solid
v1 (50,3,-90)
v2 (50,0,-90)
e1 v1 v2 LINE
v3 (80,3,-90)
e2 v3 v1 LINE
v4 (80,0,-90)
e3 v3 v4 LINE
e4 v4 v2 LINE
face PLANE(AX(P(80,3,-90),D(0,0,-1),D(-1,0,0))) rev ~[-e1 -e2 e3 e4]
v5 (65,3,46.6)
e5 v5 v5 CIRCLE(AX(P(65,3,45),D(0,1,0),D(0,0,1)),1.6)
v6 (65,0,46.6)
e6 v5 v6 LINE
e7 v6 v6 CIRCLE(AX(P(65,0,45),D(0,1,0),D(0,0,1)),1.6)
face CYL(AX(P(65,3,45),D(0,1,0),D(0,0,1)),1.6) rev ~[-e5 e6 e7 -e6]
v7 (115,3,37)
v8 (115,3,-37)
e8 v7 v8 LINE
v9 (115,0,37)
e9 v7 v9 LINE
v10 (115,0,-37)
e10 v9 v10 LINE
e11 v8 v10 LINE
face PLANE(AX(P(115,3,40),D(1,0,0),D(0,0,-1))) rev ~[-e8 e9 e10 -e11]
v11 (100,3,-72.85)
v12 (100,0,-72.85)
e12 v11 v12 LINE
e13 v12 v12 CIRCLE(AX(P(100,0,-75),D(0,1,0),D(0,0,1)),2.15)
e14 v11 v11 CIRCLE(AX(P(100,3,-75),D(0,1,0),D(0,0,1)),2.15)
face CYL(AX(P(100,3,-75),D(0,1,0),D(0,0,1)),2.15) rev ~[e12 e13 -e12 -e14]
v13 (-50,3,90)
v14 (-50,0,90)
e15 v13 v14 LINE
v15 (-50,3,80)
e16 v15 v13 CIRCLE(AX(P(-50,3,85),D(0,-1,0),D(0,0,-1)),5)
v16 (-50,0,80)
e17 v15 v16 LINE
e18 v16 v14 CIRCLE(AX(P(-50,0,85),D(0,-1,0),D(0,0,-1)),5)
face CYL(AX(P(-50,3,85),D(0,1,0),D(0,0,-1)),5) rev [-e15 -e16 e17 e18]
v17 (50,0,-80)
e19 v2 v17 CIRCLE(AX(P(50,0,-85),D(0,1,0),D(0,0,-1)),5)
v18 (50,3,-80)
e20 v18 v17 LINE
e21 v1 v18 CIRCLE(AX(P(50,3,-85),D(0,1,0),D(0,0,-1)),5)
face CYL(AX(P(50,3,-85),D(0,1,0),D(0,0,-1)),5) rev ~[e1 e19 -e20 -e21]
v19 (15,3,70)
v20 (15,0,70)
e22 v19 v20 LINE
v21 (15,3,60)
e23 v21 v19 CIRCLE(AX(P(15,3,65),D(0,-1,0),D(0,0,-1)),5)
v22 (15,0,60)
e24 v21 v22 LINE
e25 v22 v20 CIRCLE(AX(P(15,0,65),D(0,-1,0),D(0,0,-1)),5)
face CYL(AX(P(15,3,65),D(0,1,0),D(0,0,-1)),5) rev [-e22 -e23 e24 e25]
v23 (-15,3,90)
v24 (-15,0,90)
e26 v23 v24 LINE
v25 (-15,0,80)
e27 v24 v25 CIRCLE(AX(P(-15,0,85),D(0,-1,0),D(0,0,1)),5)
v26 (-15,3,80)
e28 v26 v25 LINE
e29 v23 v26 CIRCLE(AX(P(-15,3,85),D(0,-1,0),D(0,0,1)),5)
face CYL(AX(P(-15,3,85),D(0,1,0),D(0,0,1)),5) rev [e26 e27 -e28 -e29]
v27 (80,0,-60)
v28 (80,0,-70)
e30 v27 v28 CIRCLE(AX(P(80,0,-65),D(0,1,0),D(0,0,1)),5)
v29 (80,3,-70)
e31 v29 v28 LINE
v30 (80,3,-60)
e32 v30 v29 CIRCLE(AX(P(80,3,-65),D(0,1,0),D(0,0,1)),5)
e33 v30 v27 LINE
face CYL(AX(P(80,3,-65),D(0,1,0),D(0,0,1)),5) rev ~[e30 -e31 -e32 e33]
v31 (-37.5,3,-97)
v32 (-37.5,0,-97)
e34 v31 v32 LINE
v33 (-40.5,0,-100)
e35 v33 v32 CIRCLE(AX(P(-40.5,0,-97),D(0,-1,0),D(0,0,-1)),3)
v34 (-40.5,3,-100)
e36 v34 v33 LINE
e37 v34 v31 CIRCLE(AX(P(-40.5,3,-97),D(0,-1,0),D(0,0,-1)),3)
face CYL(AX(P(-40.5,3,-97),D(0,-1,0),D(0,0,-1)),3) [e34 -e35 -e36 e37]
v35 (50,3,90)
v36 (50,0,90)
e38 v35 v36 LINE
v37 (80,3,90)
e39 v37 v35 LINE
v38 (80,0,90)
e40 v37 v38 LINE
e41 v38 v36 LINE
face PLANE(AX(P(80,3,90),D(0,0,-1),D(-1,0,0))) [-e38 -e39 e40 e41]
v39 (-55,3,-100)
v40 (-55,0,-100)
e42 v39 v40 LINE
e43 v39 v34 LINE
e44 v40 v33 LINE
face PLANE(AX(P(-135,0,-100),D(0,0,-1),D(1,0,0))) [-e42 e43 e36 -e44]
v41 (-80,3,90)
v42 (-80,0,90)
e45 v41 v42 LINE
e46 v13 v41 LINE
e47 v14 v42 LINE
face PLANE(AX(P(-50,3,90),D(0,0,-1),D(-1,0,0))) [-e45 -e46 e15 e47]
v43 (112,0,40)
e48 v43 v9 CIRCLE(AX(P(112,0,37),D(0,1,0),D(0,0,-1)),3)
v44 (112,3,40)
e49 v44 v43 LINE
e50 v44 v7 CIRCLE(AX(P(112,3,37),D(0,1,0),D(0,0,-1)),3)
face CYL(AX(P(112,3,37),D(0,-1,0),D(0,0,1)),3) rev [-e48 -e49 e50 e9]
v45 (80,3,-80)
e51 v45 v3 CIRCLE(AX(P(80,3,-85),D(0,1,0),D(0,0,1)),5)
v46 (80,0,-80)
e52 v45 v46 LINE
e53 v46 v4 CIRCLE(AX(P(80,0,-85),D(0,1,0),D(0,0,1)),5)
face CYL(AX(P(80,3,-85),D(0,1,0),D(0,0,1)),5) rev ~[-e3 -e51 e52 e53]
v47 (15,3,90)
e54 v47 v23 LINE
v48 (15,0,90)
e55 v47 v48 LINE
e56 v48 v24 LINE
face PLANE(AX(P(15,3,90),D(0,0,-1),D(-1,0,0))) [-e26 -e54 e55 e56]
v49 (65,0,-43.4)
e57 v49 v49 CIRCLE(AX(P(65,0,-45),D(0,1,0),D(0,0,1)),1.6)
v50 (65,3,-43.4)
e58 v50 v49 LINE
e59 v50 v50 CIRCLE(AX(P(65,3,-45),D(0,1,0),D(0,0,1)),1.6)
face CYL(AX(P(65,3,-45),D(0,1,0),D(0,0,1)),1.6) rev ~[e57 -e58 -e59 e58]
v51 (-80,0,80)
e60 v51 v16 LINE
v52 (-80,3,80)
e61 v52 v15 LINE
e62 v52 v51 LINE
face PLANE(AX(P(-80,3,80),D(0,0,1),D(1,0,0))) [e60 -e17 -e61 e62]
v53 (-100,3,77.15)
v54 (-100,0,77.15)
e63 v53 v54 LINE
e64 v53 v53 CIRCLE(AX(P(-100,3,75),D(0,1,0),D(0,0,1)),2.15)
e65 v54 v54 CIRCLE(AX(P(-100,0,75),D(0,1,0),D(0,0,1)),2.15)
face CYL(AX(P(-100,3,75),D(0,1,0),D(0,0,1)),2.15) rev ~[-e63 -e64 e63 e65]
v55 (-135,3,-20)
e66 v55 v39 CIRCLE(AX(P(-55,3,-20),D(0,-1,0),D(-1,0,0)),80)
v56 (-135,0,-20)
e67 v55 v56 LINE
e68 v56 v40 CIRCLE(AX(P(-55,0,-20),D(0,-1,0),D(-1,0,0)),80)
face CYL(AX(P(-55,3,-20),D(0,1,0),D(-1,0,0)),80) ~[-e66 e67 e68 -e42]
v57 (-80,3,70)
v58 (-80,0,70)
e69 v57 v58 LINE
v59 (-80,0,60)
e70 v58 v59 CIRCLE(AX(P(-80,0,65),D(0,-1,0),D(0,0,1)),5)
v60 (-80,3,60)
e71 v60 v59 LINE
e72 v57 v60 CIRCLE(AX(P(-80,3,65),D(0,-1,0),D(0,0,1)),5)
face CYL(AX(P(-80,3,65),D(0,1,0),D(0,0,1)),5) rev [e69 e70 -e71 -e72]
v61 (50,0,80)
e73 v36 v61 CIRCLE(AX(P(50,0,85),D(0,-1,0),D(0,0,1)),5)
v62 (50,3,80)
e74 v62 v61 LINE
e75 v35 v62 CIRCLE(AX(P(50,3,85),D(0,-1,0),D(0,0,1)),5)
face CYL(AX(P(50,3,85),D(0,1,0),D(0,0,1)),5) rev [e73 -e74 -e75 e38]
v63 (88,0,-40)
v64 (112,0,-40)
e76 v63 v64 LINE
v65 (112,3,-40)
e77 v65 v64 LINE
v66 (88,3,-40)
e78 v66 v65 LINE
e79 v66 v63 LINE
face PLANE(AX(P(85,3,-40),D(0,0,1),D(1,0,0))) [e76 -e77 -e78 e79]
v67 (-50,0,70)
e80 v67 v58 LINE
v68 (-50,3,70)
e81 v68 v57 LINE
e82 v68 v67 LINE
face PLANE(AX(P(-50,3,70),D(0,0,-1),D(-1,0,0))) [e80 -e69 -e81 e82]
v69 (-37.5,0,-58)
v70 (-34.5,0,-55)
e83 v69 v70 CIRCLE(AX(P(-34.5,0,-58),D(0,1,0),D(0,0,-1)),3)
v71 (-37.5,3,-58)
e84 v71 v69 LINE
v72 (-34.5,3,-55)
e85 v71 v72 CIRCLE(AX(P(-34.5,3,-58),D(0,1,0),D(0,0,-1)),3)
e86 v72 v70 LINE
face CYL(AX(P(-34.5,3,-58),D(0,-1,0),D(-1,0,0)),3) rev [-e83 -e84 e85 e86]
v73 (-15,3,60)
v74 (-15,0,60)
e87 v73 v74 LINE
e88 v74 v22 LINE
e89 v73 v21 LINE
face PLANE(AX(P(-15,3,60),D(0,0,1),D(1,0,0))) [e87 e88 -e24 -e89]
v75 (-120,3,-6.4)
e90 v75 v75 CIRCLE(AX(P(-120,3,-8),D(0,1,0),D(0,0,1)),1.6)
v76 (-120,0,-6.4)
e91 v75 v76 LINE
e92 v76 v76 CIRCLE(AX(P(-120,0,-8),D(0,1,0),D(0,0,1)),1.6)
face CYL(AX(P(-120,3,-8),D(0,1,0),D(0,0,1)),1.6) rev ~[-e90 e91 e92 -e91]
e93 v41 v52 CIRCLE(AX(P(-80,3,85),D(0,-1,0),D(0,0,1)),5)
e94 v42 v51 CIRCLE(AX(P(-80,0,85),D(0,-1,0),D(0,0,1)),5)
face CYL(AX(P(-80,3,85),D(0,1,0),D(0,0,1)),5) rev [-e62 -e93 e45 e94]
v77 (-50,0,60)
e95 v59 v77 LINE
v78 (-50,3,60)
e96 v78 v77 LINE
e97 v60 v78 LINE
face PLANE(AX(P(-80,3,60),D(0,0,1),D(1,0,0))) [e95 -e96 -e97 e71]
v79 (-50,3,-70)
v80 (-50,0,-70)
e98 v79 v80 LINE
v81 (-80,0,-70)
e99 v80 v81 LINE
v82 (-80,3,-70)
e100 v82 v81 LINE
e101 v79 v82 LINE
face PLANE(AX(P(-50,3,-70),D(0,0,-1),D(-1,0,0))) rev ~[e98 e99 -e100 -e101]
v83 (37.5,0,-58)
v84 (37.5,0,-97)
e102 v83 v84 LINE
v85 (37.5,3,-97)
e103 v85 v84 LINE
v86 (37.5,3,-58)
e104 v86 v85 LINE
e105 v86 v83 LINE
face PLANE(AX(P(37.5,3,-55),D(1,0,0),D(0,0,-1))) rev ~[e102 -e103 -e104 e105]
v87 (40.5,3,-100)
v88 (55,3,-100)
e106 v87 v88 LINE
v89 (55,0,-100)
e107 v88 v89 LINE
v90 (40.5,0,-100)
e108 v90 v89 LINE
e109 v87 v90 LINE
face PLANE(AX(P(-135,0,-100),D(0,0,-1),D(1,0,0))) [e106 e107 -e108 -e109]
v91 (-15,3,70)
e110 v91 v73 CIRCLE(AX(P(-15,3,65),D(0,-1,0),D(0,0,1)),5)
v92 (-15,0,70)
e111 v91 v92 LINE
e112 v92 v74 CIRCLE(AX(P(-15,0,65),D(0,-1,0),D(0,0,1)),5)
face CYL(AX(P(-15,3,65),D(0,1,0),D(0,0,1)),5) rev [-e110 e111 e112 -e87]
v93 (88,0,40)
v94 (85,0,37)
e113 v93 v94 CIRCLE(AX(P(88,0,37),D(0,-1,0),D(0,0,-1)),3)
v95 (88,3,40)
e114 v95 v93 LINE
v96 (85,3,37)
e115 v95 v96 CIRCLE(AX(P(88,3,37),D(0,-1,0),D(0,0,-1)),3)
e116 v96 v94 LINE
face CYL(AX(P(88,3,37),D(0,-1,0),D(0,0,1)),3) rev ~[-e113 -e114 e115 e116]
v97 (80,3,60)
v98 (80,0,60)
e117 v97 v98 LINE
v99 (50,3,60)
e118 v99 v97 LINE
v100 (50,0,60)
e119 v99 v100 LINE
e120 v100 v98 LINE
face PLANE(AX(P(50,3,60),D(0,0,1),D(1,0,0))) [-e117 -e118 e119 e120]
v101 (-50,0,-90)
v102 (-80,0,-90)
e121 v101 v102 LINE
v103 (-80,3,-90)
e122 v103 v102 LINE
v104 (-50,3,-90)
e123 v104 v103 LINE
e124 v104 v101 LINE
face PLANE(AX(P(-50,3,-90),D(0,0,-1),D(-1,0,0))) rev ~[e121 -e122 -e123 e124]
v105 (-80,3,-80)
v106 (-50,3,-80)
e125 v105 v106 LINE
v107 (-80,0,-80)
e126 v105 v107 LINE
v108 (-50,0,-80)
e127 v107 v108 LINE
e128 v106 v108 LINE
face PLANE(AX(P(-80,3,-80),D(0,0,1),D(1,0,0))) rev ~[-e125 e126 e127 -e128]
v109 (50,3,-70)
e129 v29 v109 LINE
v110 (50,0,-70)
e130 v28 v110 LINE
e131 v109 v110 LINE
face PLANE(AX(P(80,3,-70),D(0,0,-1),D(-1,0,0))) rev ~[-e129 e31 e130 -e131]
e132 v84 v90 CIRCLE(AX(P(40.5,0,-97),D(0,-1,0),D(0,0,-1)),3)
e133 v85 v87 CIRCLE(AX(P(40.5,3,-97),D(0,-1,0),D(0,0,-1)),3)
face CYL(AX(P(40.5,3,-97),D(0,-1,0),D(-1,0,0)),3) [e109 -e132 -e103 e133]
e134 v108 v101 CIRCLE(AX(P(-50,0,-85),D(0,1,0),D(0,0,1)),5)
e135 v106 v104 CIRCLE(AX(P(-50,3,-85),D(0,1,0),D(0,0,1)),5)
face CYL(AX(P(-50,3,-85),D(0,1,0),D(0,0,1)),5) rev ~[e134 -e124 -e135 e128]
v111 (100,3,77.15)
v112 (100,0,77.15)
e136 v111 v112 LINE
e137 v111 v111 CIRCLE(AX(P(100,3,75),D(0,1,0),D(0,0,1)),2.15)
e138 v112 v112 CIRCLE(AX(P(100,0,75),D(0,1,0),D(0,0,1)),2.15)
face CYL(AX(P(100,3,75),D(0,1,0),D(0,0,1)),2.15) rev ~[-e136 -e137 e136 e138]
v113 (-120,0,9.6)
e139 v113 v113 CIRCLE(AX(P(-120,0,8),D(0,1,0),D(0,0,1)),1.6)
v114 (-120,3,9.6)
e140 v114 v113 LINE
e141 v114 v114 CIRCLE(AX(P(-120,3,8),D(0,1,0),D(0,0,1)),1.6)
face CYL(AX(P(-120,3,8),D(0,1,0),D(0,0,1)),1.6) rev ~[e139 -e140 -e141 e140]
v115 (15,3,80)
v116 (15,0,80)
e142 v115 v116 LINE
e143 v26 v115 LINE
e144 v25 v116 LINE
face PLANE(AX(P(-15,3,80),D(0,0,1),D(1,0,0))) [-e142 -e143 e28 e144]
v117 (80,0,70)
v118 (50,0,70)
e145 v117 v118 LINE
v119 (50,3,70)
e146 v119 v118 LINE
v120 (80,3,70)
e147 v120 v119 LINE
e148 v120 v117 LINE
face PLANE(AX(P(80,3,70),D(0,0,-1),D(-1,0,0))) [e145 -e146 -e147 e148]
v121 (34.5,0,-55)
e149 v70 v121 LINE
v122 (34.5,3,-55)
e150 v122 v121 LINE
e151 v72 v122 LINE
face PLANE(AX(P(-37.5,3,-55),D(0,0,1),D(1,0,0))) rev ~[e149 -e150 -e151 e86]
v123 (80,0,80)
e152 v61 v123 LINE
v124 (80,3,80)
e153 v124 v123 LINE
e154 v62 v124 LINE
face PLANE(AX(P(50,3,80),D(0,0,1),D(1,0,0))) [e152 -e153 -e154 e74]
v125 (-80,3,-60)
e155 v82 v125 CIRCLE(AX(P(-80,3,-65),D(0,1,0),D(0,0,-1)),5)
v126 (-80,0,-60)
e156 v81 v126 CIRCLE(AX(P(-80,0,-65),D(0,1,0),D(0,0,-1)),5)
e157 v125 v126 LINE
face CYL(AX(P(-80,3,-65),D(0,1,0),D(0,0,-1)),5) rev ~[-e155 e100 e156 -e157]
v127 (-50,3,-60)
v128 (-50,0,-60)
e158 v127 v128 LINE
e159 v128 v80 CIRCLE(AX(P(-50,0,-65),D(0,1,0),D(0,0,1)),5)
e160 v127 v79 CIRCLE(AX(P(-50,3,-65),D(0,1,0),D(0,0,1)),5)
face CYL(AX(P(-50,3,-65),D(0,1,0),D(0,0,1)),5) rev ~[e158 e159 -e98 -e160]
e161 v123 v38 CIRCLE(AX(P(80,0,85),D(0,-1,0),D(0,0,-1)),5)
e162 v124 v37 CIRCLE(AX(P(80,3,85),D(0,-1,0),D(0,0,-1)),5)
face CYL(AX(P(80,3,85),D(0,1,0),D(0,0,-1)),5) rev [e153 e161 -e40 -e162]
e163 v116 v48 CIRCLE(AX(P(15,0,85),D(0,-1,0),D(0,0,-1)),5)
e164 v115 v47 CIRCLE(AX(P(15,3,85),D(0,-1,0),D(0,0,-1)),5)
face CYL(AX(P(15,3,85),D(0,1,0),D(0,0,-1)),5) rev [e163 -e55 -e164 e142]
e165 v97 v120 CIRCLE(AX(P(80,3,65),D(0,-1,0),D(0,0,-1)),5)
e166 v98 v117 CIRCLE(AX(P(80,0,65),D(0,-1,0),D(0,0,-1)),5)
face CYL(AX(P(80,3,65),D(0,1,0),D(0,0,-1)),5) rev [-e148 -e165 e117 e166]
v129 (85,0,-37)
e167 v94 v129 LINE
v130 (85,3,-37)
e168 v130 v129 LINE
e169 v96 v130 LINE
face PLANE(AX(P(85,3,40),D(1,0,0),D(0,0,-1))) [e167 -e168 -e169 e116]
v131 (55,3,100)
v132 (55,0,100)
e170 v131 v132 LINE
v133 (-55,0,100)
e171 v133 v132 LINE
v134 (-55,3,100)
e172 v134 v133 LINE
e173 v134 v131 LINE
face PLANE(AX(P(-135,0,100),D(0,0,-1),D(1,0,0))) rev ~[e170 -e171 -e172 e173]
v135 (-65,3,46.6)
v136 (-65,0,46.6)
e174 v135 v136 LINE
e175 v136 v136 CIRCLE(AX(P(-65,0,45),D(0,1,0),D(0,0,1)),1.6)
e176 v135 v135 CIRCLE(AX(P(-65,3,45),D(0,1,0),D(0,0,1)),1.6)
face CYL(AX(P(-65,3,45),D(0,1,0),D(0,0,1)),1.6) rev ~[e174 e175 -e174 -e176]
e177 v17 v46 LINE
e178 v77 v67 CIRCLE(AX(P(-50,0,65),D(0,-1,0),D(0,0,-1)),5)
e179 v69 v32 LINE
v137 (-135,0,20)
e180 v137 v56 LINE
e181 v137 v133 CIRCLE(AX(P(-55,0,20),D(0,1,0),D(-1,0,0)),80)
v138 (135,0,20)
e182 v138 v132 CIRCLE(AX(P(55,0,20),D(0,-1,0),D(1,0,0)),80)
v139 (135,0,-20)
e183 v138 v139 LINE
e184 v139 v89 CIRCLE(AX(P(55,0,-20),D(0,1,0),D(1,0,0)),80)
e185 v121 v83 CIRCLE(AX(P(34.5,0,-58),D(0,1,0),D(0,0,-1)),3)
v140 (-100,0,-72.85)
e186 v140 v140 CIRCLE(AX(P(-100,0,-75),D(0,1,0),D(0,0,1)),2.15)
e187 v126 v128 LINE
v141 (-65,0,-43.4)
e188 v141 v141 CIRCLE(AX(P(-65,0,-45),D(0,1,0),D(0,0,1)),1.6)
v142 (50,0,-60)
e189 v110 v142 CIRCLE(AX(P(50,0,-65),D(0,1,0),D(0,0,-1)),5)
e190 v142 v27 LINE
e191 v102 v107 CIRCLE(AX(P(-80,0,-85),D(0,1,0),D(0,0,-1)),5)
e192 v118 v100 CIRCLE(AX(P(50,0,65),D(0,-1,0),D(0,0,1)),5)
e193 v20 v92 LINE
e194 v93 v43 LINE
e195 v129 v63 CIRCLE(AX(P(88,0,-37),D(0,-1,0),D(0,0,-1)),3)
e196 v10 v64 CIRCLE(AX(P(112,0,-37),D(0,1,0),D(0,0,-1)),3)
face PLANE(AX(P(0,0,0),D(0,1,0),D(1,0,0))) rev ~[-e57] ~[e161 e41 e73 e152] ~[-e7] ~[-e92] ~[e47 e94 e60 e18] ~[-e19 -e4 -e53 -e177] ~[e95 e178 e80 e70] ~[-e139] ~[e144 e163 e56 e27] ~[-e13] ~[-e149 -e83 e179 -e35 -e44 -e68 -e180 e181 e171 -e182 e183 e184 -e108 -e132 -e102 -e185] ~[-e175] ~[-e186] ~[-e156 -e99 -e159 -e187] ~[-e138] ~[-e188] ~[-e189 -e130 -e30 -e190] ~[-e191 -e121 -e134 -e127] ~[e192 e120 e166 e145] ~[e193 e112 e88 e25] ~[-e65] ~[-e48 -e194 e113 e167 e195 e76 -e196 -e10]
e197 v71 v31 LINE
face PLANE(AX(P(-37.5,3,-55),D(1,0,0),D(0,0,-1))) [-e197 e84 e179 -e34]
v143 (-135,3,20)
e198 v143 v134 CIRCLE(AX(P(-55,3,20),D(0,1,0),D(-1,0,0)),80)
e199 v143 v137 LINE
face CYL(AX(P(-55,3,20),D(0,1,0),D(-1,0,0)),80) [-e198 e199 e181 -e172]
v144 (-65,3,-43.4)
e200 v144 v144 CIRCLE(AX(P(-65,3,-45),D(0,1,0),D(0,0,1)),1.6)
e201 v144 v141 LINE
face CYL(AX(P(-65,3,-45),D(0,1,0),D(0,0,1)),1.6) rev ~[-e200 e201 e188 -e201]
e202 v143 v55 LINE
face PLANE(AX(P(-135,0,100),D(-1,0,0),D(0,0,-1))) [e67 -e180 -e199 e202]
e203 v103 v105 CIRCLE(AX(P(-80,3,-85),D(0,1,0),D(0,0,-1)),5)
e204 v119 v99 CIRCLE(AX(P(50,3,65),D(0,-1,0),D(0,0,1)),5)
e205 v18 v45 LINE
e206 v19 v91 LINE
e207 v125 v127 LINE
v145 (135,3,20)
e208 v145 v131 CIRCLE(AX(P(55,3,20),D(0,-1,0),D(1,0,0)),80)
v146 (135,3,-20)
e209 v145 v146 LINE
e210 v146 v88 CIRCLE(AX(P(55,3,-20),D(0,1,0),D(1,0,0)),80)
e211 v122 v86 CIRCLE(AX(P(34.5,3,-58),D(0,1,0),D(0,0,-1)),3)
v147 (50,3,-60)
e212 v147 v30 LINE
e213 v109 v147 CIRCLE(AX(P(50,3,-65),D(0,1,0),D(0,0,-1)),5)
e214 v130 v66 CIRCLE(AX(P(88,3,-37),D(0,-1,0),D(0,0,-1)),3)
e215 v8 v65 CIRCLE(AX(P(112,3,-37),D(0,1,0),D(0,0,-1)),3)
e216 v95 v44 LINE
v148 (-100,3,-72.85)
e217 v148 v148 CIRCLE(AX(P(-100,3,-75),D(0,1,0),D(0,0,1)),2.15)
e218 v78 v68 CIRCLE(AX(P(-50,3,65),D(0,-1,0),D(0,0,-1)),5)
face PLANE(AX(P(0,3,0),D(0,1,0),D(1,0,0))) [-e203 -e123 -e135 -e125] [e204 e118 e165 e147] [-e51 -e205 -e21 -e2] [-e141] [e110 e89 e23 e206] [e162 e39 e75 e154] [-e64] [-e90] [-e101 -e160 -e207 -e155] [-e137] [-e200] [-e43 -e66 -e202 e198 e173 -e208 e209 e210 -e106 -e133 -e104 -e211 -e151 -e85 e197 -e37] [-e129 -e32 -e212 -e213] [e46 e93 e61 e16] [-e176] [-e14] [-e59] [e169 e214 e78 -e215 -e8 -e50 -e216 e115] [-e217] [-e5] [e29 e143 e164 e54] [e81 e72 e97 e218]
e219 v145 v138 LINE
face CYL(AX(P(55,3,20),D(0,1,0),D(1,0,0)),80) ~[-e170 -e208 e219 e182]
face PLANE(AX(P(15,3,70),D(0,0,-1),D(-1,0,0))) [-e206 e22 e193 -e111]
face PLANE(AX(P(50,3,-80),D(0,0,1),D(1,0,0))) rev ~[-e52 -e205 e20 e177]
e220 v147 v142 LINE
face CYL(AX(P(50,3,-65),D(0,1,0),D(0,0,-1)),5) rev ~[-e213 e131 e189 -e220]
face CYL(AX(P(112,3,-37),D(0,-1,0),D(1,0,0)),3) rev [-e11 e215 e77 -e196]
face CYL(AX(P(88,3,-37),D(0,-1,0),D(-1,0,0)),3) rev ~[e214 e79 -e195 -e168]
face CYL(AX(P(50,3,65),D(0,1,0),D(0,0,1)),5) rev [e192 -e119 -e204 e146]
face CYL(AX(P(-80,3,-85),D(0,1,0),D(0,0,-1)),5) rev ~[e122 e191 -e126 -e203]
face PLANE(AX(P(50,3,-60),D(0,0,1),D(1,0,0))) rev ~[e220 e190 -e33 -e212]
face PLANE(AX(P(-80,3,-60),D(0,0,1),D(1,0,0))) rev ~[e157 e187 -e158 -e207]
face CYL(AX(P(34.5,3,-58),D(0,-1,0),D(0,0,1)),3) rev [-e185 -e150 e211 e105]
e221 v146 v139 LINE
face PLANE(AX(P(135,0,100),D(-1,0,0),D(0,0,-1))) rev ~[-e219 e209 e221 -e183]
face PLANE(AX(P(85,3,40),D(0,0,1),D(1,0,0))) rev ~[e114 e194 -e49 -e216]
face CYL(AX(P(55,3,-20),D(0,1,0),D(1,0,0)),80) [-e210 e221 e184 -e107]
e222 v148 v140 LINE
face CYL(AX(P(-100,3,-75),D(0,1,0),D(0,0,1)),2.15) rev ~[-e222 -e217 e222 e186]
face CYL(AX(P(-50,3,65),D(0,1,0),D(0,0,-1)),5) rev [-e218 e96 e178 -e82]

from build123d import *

# Parameters (mm, degrees)
SKETCH_1_W          = 270
SKETCH_1_H          = 200
EXTRUDE_1_DEPTH     = 3
SKETCH_2_R          = 2.15
CUT_EXTRUDE_1_DEPTH = 3
SKETCH_3_R          = 1.6
CUT_EXTRUDE_2_DEPTH = 3
SKETCH_4_W          = 75
SKETCH_4_H          = 45
CUT_EXTRUDE_3_DEPTH = 3
SKETCH_5_R          = 1.6
CUT_EXTRUDE_4_DEPTH = 3
SKETCH_6_W          = 30
SKETCH_6_H          = 80
CUT_EXTRUDE_5_DEPTH = 3
CUT_EXTRUDE_6_DEPTH = 3
FILLET_1_R          = 3


with BuildPart() as part:
    # 草图1 → 凸台-拉伸1 (new body)
    with BuildSketch(Plane(origin=(0, 0, 0), x_dir=(1, 0, 0), z_dir=(0, 1, 0))):
        Rectangle(SKETCH_1_W, SKETCH_1_H)
    extrude(amount=EXTRUDE_1_DEPTH)

    # 草图2 → 切除-拉伸1 (cut)
    with BuildSketch(Plane(origin=(0, 3, 0), x_dir=(1, 0, 0), z_dir=(0, 1, 0))):
        with Locations(Location((-100, 75, 0), (0, 0, 270))):
            Circle(SKETCH_2_R)
        with Locations(Location((100, 75, 0), (0, 0, 270))):
            Circle(SKETCH_2_R)
        with Locations(Location((100, -75, 0), (0, 0, 270))):
            Circle(SKETCH_2_R)
        with Locations(Location((-100, -75, 0), (0, 0, 270))):
            Circle(SKETCH_2_R)
    extrude(amount=-CUT_EXTRUDE_1_DEPTH, mode=Mode.SUBTRACT)

    # 草图3 → 切除-拉伸2 (cut)
    with BuildSketch(Plane(origin=(0, 3, 0), x_dir=(1, 0, 0), z_dir=(0, 1, 0))):
        with Locations(Location((-120, 8, 0), (0, 0, 270))):
            Circle(SKETCH_3_R)
        with Locations(Location((-120, -8, 0), (0, 0, 270))):
            Circle(SKETCH_3_R)
    extrude(amount=-CUT_EXTRUDE_2_DEPTH, mode=Mode.SUBTRACT)

    # 草图4 → 切除-拉伸3 (cut)
    with BuildSketch(Plane(origin=(0, 3, 0), x_dir=(1, 0, 0), z_dir=(0, 1, 0))):
        with BuildLine():
            Line((-80, -80), (-50, -80))
            ThreePointArc((-50, -80), (-45, -85), (-50, -90))
            Line((-50, -90), (-80, -90))
            ThreePointArc((-80, -90), (-85, -85), (-80, -80))
        make_face()
        with BuildLine():
            Line((-15, -80), (15, -80))
            ThreePointArc((15, -80), (20, -85), (15, -90))
            Line((15, -90), (-15, -90))
            ThreePointArc((-15, -90), (-20, -85), (-15, -80))
        make_face()
        with BuildLine():
            Line((50, -80), (80, -80))
            ThreePointArc((80, -80), (85, -85), (80, -90))
            Line((80, -90), (50, -90))
            ThreePointArc((50, -90), (45, -85), (50, -80))
        make_face()
        with BuildLine():
            Line((-15, -60), (15, -60))
            ThreePointArc((15, -60), (20, -65), (15, -70))
            Line((15, -70), (-15, -70))
            ThreePointArc((-15, -70), (-20, -65), (-15, -60))
        make_face()
        with BuildLine():
            Line((50, -60), (80, -60))
            ThreePointArc((80, -60), (85, -65), (80, -70))
            Line((80, -70), (50, -70))
            ThreePointArc((50, -70), (45, -65), (50, -60))
        make_face()
        with BuildLine():
            Line((-80, -60), (-50, -60))
            ThreePointArc((-50, -60), (-45, -65), (-50, -70))
            Line((-50, -70), (-80, -70))
            ThreePointArc((-80, -70), (-85, -65), (-80, -60))
        make_face()
        with BuildLine():
            Line((-80, 80), (-50, 80))
            ThreePointArc((-50, 80), (-45, 85), (-50, 90))
            Line((-50, 90), (-80, 90))
            ThreePointArc((-80, 90), (-85, 85), (-80, 80))
        make_face()
        with BuildLine():
            Line((50, 80), (80, 80))
            ThreePointArc((80, 80), (85, 85), (80, 90))
            Line((80, 90), (50, 90))
            ThreePointArc((50, 90), (45, 85), (50, 80))
        make_face()
        with BuildLine():
            Line((50, 60), (80, 60))
            ThreePointArc((80, 60), (85, 65), (80, 70))
            Line((80, 70), (50, 70))
            ThreePointArc((50, 70), (45, 65), (50, 60))
        make_face()
        with BuildLine():
            Line((-80, 60), (-50, 60))
            ThreePointArc((-50, 60), (-45, 65), (-50, 70))
            Line((-50, 70), (-80, 70))
            ThreePointArc((-80, 70), (-85, 65), (-80, 60))
        make_face()
        with Locations((0, 77.5)):
            Rectangle(SKETCH_4_W, SKETCH_4_H)
    extrude(amount=-CUT_EXTRUDE_3_DEPTH, mode=Mode.SUBTRACT)

    # 草图5 → 切除-拉伸4 (cut)
    with BuildSketch(Plane(origin=(0, 3, 0), x_dir=(1, 0, 0), z_dir=(0, 1, 0))):
        with Locations(Location((-65, -45, 0), (0, 0, 270))):
            Circle(SKETCH_5_R)
        with Locations(Location((-65, 45, 0), (0, 0, 270))):
            Circle(SKETCH_5_R)
        with Locations(Location((65, 45, 0), (0, 0, 270))):
            Circle(SKETCH_5_R)
        with Locations(Location((65, -45, 0), (0, 0, 270))):
            Circle(SKETCH_5_R)
    extrude(amount=-CUT_EXTRUDE_4_DEPTH, mode=Mode.SUBTRACT)

    # 草图6 → 切除-拉伸5 (cut)
    with BuildSketch(Plane(origin=(0, 3, 0), x_dir=(1, 0, 0), z_dir=(0, 1, 0))):
        with Locations((100, 0)):
            Rectangle(SKETCH_6_W, SKETCH_6_H)
    extrude(amount=-CUT_EXTRUDE_5_DEPTH, mode=Mode.SUBTRACT)

    # 草图7 → 切除-拉伸6 (cut)
    with BuildSketch(Plane(origin=(0, 3, 0), x_dir=(1, 0, 0), z_dir=(0, 1, 0))):
        with BuildLine():
            Line((-55, 100), (-135, 100))
            Line((-135, 100), (-135, 20))
            ThreePointArc((-135, 20), (-111.568542495, 76.568542495), (-55, 100))
        make_face()
        with BuildLine():
            Line((-135, -100), (-135, -20))
            ThreePointArc((-135, -20), (-111.568542495, -76.568542495), (-55, -100))
            Line((-55, -100), (-135, -100))
        make_face()
        with BuildLine():
            Line((55, -100), (135, -100))
            Line((135, -100), (135, -20))
            ThreePointArc((135, -20), (111.568542495, -76.568542495), (55, -100))
        make_face()
        with BuildLine():
            Line((135, 100), (135, 20))
            ThreePointArc((135, 20), (111.568542495, 76.568542495), (55, 100))
            Line((55, 100), (135, 100))
        make_face()
    extrude(amount=-CUT_EXTRUDE_6_DEPTH, mode=Mode.SUBTRACT)

    # 圆角1
    fillet_1_edges = [part.edges().sort_by_distance(p)[0] for p in [
        (-37.5, 1.5, -55),
        (-37.5, 1.5, -100),
        (37.5, 1.5, -100),
        (37.5, 1.5, -55),
        (115, 1.5, -40),
        (115, 1.5, 40),
        (85, 1.5, 40),
        (85, 1.5, -40),
    ]]
    fillet(fillet_1_edges, radius=FILLET_1_R)


solid = part.part
